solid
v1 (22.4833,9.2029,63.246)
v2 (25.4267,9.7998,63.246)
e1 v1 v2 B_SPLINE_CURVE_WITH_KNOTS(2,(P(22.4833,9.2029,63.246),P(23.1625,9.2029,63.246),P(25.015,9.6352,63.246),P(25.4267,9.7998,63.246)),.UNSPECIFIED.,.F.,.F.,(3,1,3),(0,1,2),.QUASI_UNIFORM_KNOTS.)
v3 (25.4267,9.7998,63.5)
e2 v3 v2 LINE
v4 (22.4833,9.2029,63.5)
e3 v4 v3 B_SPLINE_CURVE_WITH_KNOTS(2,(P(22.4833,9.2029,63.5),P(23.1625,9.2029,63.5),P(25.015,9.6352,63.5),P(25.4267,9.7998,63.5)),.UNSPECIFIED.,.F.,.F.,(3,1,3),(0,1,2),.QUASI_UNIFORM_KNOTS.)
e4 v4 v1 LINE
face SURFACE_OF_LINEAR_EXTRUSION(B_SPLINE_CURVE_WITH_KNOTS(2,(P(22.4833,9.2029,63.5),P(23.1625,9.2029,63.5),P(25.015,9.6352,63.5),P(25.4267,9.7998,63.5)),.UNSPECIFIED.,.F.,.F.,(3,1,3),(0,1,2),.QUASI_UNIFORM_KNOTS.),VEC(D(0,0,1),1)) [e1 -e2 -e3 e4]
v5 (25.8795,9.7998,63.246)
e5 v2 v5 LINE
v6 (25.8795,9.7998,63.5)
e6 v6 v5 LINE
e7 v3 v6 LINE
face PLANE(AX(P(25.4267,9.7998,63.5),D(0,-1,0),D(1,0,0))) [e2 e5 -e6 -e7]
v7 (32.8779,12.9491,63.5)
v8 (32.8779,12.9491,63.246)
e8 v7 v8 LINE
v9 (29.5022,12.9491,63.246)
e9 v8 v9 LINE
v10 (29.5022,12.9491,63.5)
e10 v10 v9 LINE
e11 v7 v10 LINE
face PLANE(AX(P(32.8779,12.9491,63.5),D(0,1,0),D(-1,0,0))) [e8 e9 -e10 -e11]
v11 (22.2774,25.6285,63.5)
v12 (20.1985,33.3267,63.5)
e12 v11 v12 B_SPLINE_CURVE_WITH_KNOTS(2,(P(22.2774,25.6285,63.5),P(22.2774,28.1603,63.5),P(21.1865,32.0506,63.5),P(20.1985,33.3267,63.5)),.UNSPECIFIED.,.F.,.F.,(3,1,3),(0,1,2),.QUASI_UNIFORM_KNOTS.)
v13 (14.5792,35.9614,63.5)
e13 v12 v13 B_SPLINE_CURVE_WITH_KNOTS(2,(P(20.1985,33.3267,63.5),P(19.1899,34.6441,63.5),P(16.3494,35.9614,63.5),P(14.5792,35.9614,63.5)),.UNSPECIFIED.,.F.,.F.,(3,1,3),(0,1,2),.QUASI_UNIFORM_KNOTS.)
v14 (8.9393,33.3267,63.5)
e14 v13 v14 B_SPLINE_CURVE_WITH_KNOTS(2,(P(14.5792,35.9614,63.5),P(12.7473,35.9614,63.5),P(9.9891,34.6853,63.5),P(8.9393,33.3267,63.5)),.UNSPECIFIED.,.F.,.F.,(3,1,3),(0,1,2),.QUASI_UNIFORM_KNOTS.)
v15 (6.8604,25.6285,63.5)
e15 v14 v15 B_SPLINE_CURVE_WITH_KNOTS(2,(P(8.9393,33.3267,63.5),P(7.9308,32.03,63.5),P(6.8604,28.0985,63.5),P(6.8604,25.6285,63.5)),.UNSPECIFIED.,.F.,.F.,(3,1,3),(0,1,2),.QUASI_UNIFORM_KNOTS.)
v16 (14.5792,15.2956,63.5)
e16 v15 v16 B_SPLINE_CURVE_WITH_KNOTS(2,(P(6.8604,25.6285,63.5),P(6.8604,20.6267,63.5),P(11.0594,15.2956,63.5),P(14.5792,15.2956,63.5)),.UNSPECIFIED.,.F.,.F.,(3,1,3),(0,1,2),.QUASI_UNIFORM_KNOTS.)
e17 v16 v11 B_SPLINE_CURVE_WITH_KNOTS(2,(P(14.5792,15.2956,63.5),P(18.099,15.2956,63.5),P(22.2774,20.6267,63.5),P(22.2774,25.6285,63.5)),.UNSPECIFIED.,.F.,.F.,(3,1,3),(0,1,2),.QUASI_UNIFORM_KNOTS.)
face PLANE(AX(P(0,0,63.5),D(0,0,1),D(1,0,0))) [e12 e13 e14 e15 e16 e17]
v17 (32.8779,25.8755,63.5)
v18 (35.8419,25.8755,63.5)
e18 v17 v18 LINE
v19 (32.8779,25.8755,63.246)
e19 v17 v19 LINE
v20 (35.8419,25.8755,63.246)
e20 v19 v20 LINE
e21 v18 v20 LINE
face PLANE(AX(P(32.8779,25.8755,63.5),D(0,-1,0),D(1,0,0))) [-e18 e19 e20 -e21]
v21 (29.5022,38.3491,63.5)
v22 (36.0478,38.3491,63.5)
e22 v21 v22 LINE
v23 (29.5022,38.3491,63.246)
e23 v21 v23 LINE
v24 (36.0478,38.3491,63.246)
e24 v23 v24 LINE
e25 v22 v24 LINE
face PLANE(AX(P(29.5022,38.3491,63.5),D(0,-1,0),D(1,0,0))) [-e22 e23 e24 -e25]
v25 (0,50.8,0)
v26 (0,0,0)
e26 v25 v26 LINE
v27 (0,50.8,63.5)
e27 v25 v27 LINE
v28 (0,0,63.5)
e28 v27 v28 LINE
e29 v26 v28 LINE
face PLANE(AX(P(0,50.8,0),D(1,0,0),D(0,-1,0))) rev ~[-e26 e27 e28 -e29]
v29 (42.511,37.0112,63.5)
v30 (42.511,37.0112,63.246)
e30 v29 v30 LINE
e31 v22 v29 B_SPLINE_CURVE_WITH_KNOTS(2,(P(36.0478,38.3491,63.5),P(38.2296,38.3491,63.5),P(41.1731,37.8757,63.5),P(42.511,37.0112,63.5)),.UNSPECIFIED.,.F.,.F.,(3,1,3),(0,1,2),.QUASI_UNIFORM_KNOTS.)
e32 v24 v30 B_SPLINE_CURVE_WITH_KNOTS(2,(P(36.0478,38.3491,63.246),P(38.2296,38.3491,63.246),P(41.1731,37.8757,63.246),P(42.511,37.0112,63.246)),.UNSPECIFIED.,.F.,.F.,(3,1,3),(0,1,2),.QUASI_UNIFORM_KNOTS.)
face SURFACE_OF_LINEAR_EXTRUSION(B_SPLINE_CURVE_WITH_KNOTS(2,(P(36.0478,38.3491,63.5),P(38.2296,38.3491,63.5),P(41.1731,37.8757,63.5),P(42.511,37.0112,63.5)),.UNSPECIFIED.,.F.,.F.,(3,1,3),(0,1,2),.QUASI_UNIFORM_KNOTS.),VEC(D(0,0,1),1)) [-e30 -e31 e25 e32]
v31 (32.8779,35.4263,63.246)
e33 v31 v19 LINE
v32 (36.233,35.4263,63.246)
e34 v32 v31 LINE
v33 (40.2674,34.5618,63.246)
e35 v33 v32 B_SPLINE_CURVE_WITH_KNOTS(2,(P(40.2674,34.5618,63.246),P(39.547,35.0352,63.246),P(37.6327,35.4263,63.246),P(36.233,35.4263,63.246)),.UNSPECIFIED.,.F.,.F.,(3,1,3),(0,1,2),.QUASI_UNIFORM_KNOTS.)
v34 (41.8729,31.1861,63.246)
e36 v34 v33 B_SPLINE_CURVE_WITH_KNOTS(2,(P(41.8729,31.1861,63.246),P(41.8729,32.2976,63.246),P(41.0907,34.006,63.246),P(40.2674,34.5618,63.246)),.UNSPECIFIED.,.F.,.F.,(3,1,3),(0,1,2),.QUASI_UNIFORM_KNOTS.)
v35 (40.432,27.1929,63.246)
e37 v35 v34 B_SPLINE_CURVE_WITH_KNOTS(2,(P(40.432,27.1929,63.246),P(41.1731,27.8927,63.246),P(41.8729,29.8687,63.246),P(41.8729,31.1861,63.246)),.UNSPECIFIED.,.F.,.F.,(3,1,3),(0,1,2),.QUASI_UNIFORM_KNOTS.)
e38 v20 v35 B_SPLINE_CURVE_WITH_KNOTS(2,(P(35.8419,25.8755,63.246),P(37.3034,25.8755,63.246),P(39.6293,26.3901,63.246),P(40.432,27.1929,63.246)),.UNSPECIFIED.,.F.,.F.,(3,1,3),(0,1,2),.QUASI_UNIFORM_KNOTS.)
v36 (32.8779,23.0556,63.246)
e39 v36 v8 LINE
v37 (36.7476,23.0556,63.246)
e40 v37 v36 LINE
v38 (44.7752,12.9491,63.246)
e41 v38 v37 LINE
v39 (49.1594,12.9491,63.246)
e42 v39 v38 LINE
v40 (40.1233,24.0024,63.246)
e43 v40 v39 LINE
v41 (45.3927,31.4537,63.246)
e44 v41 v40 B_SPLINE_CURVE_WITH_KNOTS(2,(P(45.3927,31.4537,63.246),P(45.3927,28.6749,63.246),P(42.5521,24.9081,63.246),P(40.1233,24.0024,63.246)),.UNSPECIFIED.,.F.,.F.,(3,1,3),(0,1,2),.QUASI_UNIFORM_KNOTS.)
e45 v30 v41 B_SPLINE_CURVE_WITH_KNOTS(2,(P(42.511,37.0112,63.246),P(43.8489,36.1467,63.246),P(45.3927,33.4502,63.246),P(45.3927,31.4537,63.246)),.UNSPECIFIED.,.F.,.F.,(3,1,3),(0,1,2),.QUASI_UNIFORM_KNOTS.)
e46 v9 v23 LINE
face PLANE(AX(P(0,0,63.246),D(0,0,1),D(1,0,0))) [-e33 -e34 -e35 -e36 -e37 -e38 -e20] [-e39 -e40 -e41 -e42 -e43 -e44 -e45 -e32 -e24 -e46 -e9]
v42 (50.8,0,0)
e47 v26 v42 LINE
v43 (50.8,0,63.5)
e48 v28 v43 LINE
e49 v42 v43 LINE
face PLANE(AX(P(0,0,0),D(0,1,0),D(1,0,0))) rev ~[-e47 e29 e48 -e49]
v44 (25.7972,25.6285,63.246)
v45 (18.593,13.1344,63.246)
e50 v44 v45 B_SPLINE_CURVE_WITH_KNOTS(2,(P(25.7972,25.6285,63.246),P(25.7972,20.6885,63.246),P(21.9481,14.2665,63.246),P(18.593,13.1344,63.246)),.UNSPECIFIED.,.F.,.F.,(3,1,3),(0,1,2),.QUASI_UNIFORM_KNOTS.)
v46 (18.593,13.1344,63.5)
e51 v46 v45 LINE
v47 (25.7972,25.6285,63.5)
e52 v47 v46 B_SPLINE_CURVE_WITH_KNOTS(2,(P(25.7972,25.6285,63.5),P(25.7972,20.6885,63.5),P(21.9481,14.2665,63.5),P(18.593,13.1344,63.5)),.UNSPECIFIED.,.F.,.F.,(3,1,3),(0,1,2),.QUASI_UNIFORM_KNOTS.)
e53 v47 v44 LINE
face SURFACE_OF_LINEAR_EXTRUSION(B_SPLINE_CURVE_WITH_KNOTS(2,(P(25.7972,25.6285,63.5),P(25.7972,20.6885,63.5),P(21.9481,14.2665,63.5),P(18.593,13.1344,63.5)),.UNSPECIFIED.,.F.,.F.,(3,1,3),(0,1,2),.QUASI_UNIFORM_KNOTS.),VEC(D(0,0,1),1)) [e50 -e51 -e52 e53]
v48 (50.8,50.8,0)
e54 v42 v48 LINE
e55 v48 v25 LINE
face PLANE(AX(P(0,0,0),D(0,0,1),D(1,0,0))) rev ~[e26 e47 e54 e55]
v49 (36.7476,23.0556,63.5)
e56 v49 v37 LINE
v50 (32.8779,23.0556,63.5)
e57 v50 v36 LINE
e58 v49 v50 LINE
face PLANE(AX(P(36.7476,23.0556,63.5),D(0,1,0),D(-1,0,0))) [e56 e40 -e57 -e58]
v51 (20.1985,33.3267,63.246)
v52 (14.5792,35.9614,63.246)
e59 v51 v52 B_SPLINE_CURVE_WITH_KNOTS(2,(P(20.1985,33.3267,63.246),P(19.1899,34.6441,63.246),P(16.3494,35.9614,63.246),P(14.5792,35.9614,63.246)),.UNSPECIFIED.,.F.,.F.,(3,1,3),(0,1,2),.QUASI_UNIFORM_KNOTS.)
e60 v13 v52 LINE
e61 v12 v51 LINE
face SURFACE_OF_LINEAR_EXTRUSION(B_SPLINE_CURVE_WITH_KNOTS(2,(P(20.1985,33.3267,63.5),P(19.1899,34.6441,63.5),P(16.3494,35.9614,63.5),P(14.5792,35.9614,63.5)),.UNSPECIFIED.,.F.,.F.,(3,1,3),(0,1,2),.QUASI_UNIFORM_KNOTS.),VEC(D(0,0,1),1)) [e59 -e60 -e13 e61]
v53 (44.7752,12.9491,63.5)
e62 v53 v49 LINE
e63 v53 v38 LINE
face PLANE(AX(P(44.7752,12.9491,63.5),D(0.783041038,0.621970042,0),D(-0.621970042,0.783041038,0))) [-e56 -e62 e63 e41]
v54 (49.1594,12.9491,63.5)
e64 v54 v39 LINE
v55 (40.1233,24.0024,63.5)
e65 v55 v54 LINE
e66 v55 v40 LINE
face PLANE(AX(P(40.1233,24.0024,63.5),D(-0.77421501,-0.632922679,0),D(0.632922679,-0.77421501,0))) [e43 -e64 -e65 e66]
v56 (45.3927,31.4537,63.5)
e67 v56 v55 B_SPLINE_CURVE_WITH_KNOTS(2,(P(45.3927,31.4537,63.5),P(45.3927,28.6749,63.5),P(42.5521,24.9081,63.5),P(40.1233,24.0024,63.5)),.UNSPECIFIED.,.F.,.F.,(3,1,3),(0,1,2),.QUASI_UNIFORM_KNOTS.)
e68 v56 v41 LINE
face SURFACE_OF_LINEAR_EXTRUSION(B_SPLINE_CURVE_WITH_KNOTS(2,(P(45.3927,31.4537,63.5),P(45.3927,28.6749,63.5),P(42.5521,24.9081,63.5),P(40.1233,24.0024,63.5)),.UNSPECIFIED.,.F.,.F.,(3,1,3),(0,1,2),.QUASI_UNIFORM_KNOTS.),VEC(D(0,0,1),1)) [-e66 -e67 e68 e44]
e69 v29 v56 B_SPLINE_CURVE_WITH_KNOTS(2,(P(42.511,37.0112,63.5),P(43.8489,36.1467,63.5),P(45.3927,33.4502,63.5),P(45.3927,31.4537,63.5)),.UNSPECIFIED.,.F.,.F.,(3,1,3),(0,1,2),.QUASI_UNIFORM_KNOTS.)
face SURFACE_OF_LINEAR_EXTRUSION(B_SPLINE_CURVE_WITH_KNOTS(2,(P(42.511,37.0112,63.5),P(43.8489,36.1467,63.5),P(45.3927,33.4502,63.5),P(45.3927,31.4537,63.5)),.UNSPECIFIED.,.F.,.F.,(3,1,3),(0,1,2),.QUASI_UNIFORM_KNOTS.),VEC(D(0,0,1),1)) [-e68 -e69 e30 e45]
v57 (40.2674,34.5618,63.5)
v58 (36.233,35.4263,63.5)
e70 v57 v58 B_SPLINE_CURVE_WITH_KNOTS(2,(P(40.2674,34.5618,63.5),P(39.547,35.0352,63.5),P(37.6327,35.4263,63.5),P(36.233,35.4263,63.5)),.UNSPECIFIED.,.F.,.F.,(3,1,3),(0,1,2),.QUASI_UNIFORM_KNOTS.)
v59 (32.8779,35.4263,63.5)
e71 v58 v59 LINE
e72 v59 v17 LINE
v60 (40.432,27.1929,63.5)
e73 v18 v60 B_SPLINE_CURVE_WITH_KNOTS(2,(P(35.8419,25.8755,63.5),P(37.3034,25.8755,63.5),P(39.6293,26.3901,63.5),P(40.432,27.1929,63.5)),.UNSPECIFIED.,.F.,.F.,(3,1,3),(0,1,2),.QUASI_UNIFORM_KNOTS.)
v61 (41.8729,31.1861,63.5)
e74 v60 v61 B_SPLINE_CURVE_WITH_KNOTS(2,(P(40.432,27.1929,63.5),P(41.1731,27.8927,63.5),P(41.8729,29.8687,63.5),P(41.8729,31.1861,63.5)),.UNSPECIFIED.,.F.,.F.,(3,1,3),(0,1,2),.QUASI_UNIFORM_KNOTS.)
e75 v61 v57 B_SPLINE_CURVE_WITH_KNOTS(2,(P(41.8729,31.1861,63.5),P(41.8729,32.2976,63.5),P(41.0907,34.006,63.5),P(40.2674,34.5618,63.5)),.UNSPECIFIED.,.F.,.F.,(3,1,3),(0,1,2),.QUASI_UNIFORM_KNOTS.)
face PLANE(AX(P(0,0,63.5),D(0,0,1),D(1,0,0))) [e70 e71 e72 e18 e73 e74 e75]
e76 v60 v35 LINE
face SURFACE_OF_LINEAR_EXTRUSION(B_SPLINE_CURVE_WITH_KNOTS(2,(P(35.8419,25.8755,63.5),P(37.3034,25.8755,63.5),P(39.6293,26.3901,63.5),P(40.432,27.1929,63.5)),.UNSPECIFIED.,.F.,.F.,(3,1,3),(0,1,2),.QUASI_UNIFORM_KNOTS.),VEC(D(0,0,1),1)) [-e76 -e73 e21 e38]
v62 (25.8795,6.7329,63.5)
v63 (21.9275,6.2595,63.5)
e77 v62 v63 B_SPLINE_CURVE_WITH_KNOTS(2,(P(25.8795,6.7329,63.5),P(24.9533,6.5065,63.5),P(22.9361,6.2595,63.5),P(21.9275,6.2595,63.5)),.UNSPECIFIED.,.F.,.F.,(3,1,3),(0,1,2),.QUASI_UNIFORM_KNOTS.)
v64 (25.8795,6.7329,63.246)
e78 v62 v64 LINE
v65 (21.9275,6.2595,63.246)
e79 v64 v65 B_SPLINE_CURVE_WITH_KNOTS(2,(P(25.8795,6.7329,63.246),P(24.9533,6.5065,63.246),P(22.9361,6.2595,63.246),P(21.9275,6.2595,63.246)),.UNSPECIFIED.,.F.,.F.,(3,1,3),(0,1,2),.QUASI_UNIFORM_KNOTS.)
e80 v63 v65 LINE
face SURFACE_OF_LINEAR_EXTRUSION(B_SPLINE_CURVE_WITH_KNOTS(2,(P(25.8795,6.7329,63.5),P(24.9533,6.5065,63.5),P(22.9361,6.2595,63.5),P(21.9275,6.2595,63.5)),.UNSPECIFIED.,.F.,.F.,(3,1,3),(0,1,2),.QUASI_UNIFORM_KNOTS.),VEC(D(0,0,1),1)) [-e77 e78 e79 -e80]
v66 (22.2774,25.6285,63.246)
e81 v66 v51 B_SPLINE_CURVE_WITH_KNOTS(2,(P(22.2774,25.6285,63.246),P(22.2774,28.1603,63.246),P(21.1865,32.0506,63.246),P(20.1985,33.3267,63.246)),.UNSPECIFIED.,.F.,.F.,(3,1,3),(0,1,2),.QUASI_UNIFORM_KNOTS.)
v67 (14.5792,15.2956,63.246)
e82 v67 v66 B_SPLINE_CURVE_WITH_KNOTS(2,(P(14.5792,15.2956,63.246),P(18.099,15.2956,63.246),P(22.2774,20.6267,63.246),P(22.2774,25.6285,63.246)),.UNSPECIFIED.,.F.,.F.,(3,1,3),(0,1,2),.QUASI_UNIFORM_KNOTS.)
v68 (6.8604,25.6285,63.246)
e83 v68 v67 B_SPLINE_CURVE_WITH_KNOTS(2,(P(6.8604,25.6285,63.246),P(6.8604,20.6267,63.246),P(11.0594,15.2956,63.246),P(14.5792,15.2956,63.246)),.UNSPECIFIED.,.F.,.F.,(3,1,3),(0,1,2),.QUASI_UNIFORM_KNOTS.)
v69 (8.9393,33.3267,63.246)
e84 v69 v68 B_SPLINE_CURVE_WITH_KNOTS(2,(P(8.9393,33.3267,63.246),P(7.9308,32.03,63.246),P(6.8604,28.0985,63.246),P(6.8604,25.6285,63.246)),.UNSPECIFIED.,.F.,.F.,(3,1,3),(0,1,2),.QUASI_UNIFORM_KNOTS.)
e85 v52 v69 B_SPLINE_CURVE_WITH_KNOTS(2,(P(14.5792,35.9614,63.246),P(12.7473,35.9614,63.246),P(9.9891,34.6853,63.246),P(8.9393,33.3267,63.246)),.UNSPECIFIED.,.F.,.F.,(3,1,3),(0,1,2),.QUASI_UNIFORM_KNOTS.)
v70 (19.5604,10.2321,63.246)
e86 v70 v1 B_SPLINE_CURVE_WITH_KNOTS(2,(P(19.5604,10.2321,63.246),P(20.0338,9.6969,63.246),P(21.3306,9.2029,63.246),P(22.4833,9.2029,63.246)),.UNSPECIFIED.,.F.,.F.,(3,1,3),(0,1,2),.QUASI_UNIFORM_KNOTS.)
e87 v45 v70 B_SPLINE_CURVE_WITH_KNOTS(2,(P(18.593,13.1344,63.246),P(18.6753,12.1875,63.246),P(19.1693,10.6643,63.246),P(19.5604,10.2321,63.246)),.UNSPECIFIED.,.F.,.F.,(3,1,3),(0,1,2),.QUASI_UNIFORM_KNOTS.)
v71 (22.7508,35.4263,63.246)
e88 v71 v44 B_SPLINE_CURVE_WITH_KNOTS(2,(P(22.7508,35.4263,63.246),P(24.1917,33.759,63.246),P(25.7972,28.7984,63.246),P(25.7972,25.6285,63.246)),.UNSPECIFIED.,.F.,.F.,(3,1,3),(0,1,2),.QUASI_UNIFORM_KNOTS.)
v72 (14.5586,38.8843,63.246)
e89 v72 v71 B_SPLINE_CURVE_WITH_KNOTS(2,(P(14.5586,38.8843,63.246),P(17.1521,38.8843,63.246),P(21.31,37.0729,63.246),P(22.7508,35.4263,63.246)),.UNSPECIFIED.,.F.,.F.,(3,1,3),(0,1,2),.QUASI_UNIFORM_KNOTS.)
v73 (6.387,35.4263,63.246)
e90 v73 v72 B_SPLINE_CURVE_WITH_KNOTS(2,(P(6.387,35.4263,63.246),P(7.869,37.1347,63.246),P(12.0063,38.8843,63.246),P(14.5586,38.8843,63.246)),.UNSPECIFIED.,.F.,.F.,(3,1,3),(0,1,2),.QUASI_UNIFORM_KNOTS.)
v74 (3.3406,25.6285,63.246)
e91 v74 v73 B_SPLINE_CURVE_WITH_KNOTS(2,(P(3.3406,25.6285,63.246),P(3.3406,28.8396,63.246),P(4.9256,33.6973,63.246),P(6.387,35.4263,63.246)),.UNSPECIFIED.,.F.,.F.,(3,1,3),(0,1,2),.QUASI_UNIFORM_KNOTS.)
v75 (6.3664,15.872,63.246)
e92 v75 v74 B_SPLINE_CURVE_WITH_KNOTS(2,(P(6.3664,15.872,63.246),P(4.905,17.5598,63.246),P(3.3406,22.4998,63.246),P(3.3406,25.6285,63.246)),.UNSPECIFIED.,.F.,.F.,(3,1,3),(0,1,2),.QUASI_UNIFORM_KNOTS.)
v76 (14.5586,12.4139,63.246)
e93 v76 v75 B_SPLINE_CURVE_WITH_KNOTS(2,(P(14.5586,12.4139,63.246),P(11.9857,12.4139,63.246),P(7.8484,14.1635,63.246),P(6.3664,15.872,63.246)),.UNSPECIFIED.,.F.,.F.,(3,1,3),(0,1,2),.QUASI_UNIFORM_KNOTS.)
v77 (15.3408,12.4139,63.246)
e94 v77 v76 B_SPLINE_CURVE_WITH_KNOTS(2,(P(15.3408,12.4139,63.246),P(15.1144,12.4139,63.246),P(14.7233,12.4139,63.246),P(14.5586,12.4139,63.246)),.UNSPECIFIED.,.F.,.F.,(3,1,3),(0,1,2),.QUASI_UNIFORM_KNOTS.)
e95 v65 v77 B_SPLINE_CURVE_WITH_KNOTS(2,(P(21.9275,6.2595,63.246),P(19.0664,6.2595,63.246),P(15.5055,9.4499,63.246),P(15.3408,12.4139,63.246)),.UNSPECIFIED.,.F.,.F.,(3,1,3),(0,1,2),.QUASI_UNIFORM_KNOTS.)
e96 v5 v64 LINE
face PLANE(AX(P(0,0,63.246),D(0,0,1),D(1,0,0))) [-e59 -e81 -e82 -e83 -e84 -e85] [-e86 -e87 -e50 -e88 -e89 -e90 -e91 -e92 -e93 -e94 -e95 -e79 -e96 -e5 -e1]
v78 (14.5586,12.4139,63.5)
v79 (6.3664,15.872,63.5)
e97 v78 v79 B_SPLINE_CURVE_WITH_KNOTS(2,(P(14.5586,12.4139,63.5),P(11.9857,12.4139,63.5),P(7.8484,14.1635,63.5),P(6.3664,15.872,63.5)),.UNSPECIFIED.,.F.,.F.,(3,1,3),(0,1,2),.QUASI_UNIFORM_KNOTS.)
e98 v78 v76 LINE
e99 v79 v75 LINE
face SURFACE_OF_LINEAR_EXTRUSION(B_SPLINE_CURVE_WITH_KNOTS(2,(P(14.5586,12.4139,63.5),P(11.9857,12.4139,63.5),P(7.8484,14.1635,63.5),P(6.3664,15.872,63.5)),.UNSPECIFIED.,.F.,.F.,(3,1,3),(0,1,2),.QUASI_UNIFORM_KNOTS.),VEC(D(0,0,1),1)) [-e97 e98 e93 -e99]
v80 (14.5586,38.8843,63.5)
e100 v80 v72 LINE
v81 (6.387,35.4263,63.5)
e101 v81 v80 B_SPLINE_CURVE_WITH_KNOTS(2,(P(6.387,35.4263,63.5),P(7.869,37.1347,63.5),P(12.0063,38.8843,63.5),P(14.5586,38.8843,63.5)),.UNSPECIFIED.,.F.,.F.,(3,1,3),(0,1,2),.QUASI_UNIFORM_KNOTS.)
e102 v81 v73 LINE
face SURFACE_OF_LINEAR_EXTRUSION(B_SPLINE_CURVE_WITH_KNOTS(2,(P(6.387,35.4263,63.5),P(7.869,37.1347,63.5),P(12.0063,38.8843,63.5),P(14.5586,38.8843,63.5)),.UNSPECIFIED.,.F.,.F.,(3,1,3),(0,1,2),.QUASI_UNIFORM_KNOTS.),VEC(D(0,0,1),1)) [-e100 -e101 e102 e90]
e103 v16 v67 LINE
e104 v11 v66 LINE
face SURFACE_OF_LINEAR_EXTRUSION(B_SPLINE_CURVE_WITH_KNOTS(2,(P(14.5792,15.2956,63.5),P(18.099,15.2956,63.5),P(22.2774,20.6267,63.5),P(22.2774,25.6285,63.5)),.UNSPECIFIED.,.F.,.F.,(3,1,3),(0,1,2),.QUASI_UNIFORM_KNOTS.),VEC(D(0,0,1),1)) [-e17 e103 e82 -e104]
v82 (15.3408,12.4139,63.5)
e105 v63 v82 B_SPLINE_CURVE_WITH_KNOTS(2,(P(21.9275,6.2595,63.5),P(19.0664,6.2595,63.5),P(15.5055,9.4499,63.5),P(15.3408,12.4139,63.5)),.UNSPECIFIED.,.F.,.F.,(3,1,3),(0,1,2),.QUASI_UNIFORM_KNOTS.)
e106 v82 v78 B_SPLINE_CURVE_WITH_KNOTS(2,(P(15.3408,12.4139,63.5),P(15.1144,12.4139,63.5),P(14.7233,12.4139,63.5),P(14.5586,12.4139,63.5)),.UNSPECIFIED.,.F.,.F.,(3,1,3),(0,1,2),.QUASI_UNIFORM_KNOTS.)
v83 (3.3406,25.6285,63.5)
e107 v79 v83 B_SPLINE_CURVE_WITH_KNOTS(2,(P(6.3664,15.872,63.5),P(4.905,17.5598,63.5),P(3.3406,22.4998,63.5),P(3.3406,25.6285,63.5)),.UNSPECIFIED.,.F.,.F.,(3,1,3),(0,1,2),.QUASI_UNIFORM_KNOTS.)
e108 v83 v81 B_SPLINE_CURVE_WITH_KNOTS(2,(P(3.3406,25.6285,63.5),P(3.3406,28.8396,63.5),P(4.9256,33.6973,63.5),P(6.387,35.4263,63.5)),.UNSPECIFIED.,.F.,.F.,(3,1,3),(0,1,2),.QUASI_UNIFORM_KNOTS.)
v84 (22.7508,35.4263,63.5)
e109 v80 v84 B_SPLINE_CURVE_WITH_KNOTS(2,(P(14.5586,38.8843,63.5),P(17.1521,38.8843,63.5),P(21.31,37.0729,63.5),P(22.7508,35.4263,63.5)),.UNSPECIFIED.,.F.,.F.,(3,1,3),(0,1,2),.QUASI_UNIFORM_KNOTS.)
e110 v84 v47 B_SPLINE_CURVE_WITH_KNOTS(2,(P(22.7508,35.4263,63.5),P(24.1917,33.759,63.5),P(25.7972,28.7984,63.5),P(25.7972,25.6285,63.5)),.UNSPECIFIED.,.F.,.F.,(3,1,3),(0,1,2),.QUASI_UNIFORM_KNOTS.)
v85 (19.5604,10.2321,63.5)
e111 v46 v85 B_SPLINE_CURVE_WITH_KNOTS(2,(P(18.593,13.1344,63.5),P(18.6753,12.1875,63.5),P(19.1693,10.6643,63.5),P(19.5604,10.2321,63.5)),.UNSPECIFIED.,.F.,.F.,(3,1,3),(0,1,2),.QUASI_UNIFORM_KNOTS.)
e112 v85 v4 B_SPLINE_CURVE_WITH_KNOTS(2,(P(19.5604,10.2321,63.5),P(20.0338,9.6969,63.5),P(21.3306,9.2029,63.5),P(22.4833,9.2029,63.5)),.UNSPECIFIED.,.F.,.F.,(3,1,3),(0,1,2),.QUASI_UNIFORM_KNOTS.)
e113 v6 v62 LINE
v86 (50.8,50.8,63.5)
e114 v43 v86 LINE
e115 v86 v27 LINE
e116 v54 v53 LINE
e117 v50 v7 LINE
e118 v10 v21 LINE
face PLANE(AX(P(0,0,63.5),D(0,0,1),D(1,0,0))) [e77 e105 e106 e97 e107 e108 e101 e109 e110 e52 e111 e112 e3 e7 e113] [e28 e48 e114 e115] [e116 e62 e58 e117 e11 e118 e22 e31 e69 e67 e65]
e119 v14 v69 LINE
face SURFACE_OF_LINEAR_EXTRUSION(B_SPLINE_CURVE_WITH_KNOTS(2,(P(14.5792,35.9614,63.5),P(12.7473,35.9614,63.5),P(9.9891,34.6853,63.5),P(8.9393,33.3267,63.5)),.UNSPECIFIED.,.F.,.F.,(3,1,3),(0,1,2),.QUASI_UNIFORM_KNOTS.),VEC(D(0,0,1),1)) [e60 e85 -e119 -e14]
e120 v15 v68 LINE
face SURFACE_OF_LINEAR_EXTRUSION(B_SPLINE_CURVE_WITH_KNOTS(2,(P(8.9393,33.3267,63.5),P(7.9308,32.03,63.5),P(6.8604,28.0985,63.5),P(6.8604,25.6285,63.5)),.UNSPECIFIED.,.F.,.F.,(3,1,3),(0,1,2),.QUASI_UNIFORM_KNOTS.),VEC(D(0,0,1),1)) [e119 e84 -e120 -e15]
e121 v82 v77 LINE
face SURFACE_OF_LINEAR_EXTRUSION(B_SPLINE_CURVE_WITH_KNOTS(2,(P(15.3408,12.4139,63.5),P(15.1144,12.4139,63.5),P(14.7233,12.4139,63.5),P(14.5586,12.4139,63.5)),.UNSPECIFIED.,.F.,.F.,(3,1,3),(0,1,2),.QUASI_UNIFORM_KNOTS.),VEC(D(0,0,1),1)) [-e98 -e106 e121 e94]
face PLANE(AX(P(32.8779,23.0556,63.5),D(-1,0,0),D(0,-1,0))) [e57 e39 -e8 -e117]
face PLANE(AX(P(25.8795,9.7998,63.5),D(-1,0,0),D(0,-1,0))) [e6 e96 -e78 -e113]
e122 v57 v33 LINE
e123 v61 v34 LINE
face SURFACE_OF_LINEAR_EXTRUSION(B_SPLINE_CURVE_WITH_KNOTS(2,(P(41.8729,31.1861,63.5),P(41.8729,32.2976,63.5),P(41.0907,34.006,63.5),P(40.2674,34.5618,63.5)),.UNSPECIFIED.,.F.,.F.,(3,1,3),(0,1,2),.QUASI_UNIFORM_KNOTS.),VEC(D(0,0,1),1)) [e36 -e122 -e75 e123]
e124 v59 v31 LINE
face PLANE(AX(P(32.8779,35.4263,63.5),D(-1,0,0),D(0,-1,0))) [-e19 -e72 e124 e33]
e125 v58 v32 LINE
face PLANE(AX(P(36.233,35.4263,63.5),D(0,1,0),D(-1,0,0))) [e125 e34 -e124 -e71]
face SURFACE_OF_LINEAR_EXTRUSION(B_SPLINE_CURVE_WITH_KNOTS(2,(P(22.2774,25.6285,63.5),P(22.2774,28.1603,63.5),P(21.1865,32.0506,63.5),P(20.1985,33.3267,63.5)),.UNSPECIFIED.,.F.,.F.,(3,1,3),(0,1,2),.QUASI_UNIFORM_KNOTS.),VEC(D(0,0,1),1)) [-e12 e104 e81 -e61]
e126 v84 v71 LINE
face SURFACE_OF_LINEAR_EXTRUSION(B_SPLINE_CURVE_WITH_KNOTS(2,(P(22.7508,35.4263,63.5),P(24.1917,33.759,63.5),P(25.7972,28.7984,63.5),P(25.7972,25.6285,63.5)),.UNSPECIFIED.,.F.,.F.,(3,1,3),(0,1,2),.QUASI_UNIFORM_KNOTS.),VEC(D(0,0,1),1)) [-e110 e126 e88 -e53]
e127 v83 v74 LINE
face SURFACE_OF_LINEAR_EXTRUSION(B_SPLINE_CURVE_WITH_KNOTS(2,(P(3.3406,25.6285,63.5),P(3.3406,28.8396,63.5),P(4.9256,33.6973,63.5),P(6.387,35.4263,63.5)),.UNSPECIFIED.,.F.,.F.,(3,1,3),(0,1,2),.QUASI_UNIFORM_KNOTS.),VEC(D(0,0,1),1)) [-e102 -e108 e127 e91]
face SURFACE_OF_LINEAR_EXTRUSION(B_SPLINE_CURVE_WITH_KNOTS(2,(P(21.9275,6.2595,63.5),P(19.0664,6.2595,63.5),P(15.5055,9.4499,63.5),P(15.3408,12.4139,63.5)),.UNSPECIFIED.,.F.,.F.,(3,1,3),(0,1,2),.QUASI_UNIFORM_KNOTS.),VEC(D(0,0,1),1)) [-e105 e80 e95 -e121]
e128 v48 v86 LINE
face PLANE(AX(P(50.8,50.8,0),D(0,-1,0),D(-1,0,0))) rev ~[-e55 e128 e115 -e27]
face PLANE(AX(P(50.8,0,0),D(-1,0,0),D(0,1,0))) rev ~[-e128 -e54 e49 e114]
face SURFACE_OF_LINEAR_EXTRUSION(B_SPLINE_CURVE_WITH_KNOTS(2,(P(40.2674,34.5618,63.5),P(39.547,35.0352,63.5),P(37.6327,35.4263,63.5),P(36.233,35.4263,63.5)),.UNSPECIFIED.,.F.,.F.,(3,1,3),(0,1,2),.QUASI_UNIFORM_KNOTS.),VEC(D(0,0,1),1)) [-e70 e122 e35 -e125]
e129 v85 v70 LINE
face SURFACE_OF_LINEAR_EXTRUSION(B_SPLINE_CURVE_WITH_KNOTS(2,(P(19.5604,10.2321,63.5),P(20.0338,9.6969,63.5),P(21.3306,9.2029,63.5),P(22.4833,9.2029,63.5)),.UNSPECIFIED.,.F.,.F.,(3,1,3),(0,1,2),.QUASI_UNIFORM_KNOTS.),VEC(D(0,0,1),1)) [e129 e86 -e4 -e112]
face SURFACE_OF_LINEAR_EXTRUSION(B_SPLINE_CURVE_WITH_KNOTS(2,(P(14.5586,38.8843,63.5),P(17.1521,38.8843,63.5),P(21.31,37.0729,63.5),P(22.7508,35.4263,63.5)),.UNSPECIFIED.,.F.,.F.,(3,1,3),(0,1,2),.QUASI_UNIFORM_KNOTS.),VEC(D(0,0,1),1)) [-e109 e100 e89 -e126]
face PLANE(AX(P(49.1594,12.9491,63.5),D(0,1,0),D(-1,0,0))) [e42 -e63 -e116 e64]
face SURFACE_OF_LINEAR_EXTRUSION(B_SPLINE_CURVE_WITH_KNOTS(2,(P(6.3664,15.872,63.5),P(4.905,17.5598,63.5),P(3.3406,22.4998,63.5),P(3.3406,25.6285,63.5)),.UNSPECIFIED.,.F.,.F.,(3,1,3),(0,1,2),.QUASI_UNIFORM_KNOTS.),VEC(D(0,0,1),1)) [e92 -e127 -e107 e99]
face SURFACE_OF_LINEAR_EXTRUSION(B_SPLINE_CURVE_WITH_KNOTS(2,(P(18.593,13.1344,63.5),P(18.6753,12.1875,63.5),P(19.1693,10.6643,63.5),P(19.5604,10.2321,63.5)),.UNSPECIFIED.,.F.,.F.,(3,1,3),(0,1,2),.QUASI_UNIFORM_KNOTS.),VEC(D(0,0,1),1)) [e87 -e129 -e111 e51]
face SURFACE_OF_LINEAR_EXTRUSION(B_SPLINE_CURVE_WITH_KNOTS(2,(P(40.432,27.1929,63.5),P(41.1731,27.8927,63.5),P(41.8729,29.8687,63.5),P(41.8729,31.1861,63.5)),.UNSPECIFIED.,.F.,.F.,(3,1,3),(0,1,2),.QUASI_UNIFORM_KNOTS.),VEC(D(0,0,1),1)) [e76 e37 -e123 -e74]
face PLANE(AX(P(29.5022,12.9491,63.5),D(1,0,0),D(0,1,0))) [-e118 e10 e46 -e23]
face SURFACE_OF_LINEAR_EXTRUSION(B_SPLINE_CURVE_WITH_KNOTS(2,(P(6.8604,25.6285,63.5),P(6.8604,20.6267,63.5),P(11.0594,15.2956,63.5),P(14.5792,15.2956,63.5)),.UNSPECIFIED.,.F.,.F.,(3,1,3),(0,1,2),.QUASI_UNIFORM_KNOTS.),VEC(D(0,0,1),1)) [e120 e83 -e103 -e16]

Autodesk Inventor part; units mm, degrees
ref_plane "YZ Plane" through (0, 0, 0) normal (1, 0, 0) x (0, 1, 0)
ref_plane "XZ Plane" through (0, 0, 0) normal (0, 1, 0) x (-1, 0, 0)
ref_plane "XY Plane" through (0, 0, 0) normal (0, 0, 1) x (1, 0, 0)
sketch "Sketch1" plane through (0, 0, 0) normal (0, 0, 1) x (1, 0, 0)
  line L0 (0, 0) -> (50.8, 0)
  line L1 (50.8, 0) -> (50.8, 50.8)
  line L2 (50.8, 50.8) -> (0, 50.8)
  line L3 (0, 50.8) -> (0, 0)
  dimension "d0" = 50.8
  dimension "d1" = 50.8
extrude "Extrusion1" add sketch "Sketch1" along normal blind 63.5
sketch "Sketch2" plane through (0, 0, 63.5) normal (0, 0, 1) x (1, 0, 0)
  line L0 (2.2085, 38.8843) -> (25.4061, 38.8843) construction
  line L1 (25.4061, 38.8843) -> (25.4061, 22.5719) construction
  line L2 (25.4061, 22.5719) -> (2.2085, 22.5719) construction
  line L3 (2.2085, 22.5719) -> (2.2085, 38.8843) construction
  spline S0 degree 2 poles (25.8795, 6.7329) (24.9533, 6.5065) (22.9361, 6.2595) (21.9275, 6.2595) knots 0 0 0 1 2 2 2
  spline S1 degree 2 poles (21.9275, 6.2595) (19.0664, 6.2595) (15.5055, 9.4499) (15.3408, 12.4139) knots 0 0 0 1 2 2 2
  spline S2 degree 2 poles (15.3408, 12.4139) (15.1144, 12.4139) (14.7233, 12.4139) (14.5586, 12.4139) knots 0 0 0 1 2 2 2
  spline S3 degree 2 poles (14.5586, 12.4139) (11.9857, 12.4139) (7.8484, 14.1635) (6.3664, 15.872) knots 0 0 0 1 2 2 2
  spline S4 degree 2 poles (6.3664, 15.872) (4.905, 17.5598) (3.3406, 22.4998) (3.3406, 25.6285) knots 0 0 0 1 2 2 2
  spline S5 degree 2 poles (3.3406, 25.6285) (3.3406, 28.8396) (4.9256, 33.6973) (6.387, 35.4263) knots 0 0 0 1 2 2 2
  spline S6 degree 2 poles (6.387, 35.4263) (7.869, 37.1347) (12.0063, 38.8843) (14.5586, 38.8843) knots 0 0 0 1 2 2 2
  spline S7 degree 2 poles (14.5586, 38.8843) (17.1521, 38.8843) (21.31, 37.0729) (22.7508, 35.4263) knots 0 0 0 1 2 2 2
  spline S8 degree 2 poles (22.7508, 35.4263) (24.1917, 33.759) (25.7972, 28.7984) (25.7972, 25.6285) knots 0 0 0 1 2 2 2
  spline S9 degree 2 poles (25.7972, 25.6285) (25.7972, 20.6885) (21.9481, 14.2665) (18.593, 13.1344) knots 0 0 0 1 2 2 2
  spline S10 degree 2 poles (18.593, 13.1344) (18.6753, 12.1875) (19.1693, 10.6643) (19.5604, 10.2321) knots 0 0 0 1 2 2 2
  spline S11 degree 2 poles (19.5604, 10.2321) (20.0338, 9.6969) (21.3306, 9.2029) (22.4833, 9.2029) knots 0 0 0 1 2 2 2
  spline S12 degree 2 poles (22.4833, 9.2029) (23.1625, 9.2029) (25.015, 9.6352) (25.4267, 9.7998) knots 0 0 0 1 2 2 2
  line L4 (25.4267, 9.7998) -> (25.8795, 9.7998)
  line L5 (25.8795, 9.7998) -> (25.8795, 6.7329)
  spline S13 degree 2 poles (22.2774, 25.6285) (22.2774, 28.1603) (21.1865, 32.0506) (20.1985, 33.3267) knots 0 0 0 1 2 2 2
  spline S14 degree 2 poles (20.1985, 33.3267) (19.1899, 34.6441) (16.3494, 35.9614) (14.5792, 35.9614) knots 0 0 0 1 2 2 2
  spline S15 degree 2 poles (14.5792, 35.9614) (12.7473, 35.9614) (9.9891, 34.6853) (8.9393, 33.3267) knots 0 0 0 1 2 2 2
  spline S16 degree 2 poles (8.9393, 33.3267) (7.9308, 32.03) (6.8604, 28.0985) (6.8604, 25.6285) knots 0 0 0 1 2 2 2
  spline S17 degree 2 poles (6.8604, 25.6285) (6.8604, 20.6267) (11.0594, 15.2956) (14.5792, 15.2956) knots 0 0 0 1 2 2 2
  spline S18 degree 2 poles (14.5792, 15.2956) (18.099, 15.2956) (22.2774, 20.6267) (22.2774, 25.6285) knots 0 0 0 1 2 2 2
  line L6 (49.1594, 12.9491) -> (44.7752, 12.9491)
  line L7 (44.7752, 12.9491) -> (36.7476, 23.0556)
  line L8 (36.7476, 23.0556) -> (32.8779, 23.0556)
  line L9 (32.8779, 23.0556) -> (32.8779, 12.9491)
  line L10 (32.8779, 12.9491) -> (29.5022, 12.9491)
  line L11 (29.5022, 12.9491) -> (29.5022, 38.3491)
  line L12 (29.5022, 38.3491) -> (36.0478, 38.3491)
  spline S19 degree 2 poles (36.0478, 38.3491) (38.2296, 38.3491) (41.1731, 37.8757) (42.511, 37.0112) knots 0 0 0 1 2 2 2
  spline S20 degree 2 poles (42.511, 37.0112) (43.8489, 36.1467) (45.3927, 33.4502) (45.3927, 31.4537) knots 0 0 0 1 2 2 2
  spline S21 degree 2 poles (45.3927, 31.4537) (45.3927, 28.6749) (42.5521, 24.9081) (40.1233, 24.0024) knots 0 0 0 1 2 2 2
  line L13 (40.1233, 24.0024) -> (49.1594, 12.9491)
  spline S22 degree 2 poles (41.8729, 31.1861) (41.8729, 32.2976) (41.0907, 34.006) (40.2674, 34.5618) knots 0 0 0 1 2 2 2
  spline S23 degree 2 poles (40.2674, 34.5618) (39.547, 35.0352) (37.6327, 35.4263) (36.233, 35.4263) knots 0 0 0 1 2 2 2
  line L14 (36.233, 35.4263) -> (32.8779, 35.4263)
  line L15 (32.8779, 35.4263) -> (32.8779, 25.8755)
  line L16 (32.8779, 25.8755) -> (35.8419, 25.8755)
  spline S24 degree 2 poles (35.8419, 25.8755) (37.3034, 25.8755) (39.6293, 26.3901) (40.432, 27.1929) knots 0 0 0 1 2 2 2
  spline S25 degree 2 poles (40.432, 27.1929) (41.1731, 27.8927) (41.8729, 29.8687) (41.8729, 31.1861) knots 0 0 0 1 2 2 2
  point P0 (0, 0)
extrude "Extrusion2" cut sketch "Sketch2" against normal blind 0.254
equation "\"d1\" = d0"
properties part number "Container 2 2 2 and half color 7"
